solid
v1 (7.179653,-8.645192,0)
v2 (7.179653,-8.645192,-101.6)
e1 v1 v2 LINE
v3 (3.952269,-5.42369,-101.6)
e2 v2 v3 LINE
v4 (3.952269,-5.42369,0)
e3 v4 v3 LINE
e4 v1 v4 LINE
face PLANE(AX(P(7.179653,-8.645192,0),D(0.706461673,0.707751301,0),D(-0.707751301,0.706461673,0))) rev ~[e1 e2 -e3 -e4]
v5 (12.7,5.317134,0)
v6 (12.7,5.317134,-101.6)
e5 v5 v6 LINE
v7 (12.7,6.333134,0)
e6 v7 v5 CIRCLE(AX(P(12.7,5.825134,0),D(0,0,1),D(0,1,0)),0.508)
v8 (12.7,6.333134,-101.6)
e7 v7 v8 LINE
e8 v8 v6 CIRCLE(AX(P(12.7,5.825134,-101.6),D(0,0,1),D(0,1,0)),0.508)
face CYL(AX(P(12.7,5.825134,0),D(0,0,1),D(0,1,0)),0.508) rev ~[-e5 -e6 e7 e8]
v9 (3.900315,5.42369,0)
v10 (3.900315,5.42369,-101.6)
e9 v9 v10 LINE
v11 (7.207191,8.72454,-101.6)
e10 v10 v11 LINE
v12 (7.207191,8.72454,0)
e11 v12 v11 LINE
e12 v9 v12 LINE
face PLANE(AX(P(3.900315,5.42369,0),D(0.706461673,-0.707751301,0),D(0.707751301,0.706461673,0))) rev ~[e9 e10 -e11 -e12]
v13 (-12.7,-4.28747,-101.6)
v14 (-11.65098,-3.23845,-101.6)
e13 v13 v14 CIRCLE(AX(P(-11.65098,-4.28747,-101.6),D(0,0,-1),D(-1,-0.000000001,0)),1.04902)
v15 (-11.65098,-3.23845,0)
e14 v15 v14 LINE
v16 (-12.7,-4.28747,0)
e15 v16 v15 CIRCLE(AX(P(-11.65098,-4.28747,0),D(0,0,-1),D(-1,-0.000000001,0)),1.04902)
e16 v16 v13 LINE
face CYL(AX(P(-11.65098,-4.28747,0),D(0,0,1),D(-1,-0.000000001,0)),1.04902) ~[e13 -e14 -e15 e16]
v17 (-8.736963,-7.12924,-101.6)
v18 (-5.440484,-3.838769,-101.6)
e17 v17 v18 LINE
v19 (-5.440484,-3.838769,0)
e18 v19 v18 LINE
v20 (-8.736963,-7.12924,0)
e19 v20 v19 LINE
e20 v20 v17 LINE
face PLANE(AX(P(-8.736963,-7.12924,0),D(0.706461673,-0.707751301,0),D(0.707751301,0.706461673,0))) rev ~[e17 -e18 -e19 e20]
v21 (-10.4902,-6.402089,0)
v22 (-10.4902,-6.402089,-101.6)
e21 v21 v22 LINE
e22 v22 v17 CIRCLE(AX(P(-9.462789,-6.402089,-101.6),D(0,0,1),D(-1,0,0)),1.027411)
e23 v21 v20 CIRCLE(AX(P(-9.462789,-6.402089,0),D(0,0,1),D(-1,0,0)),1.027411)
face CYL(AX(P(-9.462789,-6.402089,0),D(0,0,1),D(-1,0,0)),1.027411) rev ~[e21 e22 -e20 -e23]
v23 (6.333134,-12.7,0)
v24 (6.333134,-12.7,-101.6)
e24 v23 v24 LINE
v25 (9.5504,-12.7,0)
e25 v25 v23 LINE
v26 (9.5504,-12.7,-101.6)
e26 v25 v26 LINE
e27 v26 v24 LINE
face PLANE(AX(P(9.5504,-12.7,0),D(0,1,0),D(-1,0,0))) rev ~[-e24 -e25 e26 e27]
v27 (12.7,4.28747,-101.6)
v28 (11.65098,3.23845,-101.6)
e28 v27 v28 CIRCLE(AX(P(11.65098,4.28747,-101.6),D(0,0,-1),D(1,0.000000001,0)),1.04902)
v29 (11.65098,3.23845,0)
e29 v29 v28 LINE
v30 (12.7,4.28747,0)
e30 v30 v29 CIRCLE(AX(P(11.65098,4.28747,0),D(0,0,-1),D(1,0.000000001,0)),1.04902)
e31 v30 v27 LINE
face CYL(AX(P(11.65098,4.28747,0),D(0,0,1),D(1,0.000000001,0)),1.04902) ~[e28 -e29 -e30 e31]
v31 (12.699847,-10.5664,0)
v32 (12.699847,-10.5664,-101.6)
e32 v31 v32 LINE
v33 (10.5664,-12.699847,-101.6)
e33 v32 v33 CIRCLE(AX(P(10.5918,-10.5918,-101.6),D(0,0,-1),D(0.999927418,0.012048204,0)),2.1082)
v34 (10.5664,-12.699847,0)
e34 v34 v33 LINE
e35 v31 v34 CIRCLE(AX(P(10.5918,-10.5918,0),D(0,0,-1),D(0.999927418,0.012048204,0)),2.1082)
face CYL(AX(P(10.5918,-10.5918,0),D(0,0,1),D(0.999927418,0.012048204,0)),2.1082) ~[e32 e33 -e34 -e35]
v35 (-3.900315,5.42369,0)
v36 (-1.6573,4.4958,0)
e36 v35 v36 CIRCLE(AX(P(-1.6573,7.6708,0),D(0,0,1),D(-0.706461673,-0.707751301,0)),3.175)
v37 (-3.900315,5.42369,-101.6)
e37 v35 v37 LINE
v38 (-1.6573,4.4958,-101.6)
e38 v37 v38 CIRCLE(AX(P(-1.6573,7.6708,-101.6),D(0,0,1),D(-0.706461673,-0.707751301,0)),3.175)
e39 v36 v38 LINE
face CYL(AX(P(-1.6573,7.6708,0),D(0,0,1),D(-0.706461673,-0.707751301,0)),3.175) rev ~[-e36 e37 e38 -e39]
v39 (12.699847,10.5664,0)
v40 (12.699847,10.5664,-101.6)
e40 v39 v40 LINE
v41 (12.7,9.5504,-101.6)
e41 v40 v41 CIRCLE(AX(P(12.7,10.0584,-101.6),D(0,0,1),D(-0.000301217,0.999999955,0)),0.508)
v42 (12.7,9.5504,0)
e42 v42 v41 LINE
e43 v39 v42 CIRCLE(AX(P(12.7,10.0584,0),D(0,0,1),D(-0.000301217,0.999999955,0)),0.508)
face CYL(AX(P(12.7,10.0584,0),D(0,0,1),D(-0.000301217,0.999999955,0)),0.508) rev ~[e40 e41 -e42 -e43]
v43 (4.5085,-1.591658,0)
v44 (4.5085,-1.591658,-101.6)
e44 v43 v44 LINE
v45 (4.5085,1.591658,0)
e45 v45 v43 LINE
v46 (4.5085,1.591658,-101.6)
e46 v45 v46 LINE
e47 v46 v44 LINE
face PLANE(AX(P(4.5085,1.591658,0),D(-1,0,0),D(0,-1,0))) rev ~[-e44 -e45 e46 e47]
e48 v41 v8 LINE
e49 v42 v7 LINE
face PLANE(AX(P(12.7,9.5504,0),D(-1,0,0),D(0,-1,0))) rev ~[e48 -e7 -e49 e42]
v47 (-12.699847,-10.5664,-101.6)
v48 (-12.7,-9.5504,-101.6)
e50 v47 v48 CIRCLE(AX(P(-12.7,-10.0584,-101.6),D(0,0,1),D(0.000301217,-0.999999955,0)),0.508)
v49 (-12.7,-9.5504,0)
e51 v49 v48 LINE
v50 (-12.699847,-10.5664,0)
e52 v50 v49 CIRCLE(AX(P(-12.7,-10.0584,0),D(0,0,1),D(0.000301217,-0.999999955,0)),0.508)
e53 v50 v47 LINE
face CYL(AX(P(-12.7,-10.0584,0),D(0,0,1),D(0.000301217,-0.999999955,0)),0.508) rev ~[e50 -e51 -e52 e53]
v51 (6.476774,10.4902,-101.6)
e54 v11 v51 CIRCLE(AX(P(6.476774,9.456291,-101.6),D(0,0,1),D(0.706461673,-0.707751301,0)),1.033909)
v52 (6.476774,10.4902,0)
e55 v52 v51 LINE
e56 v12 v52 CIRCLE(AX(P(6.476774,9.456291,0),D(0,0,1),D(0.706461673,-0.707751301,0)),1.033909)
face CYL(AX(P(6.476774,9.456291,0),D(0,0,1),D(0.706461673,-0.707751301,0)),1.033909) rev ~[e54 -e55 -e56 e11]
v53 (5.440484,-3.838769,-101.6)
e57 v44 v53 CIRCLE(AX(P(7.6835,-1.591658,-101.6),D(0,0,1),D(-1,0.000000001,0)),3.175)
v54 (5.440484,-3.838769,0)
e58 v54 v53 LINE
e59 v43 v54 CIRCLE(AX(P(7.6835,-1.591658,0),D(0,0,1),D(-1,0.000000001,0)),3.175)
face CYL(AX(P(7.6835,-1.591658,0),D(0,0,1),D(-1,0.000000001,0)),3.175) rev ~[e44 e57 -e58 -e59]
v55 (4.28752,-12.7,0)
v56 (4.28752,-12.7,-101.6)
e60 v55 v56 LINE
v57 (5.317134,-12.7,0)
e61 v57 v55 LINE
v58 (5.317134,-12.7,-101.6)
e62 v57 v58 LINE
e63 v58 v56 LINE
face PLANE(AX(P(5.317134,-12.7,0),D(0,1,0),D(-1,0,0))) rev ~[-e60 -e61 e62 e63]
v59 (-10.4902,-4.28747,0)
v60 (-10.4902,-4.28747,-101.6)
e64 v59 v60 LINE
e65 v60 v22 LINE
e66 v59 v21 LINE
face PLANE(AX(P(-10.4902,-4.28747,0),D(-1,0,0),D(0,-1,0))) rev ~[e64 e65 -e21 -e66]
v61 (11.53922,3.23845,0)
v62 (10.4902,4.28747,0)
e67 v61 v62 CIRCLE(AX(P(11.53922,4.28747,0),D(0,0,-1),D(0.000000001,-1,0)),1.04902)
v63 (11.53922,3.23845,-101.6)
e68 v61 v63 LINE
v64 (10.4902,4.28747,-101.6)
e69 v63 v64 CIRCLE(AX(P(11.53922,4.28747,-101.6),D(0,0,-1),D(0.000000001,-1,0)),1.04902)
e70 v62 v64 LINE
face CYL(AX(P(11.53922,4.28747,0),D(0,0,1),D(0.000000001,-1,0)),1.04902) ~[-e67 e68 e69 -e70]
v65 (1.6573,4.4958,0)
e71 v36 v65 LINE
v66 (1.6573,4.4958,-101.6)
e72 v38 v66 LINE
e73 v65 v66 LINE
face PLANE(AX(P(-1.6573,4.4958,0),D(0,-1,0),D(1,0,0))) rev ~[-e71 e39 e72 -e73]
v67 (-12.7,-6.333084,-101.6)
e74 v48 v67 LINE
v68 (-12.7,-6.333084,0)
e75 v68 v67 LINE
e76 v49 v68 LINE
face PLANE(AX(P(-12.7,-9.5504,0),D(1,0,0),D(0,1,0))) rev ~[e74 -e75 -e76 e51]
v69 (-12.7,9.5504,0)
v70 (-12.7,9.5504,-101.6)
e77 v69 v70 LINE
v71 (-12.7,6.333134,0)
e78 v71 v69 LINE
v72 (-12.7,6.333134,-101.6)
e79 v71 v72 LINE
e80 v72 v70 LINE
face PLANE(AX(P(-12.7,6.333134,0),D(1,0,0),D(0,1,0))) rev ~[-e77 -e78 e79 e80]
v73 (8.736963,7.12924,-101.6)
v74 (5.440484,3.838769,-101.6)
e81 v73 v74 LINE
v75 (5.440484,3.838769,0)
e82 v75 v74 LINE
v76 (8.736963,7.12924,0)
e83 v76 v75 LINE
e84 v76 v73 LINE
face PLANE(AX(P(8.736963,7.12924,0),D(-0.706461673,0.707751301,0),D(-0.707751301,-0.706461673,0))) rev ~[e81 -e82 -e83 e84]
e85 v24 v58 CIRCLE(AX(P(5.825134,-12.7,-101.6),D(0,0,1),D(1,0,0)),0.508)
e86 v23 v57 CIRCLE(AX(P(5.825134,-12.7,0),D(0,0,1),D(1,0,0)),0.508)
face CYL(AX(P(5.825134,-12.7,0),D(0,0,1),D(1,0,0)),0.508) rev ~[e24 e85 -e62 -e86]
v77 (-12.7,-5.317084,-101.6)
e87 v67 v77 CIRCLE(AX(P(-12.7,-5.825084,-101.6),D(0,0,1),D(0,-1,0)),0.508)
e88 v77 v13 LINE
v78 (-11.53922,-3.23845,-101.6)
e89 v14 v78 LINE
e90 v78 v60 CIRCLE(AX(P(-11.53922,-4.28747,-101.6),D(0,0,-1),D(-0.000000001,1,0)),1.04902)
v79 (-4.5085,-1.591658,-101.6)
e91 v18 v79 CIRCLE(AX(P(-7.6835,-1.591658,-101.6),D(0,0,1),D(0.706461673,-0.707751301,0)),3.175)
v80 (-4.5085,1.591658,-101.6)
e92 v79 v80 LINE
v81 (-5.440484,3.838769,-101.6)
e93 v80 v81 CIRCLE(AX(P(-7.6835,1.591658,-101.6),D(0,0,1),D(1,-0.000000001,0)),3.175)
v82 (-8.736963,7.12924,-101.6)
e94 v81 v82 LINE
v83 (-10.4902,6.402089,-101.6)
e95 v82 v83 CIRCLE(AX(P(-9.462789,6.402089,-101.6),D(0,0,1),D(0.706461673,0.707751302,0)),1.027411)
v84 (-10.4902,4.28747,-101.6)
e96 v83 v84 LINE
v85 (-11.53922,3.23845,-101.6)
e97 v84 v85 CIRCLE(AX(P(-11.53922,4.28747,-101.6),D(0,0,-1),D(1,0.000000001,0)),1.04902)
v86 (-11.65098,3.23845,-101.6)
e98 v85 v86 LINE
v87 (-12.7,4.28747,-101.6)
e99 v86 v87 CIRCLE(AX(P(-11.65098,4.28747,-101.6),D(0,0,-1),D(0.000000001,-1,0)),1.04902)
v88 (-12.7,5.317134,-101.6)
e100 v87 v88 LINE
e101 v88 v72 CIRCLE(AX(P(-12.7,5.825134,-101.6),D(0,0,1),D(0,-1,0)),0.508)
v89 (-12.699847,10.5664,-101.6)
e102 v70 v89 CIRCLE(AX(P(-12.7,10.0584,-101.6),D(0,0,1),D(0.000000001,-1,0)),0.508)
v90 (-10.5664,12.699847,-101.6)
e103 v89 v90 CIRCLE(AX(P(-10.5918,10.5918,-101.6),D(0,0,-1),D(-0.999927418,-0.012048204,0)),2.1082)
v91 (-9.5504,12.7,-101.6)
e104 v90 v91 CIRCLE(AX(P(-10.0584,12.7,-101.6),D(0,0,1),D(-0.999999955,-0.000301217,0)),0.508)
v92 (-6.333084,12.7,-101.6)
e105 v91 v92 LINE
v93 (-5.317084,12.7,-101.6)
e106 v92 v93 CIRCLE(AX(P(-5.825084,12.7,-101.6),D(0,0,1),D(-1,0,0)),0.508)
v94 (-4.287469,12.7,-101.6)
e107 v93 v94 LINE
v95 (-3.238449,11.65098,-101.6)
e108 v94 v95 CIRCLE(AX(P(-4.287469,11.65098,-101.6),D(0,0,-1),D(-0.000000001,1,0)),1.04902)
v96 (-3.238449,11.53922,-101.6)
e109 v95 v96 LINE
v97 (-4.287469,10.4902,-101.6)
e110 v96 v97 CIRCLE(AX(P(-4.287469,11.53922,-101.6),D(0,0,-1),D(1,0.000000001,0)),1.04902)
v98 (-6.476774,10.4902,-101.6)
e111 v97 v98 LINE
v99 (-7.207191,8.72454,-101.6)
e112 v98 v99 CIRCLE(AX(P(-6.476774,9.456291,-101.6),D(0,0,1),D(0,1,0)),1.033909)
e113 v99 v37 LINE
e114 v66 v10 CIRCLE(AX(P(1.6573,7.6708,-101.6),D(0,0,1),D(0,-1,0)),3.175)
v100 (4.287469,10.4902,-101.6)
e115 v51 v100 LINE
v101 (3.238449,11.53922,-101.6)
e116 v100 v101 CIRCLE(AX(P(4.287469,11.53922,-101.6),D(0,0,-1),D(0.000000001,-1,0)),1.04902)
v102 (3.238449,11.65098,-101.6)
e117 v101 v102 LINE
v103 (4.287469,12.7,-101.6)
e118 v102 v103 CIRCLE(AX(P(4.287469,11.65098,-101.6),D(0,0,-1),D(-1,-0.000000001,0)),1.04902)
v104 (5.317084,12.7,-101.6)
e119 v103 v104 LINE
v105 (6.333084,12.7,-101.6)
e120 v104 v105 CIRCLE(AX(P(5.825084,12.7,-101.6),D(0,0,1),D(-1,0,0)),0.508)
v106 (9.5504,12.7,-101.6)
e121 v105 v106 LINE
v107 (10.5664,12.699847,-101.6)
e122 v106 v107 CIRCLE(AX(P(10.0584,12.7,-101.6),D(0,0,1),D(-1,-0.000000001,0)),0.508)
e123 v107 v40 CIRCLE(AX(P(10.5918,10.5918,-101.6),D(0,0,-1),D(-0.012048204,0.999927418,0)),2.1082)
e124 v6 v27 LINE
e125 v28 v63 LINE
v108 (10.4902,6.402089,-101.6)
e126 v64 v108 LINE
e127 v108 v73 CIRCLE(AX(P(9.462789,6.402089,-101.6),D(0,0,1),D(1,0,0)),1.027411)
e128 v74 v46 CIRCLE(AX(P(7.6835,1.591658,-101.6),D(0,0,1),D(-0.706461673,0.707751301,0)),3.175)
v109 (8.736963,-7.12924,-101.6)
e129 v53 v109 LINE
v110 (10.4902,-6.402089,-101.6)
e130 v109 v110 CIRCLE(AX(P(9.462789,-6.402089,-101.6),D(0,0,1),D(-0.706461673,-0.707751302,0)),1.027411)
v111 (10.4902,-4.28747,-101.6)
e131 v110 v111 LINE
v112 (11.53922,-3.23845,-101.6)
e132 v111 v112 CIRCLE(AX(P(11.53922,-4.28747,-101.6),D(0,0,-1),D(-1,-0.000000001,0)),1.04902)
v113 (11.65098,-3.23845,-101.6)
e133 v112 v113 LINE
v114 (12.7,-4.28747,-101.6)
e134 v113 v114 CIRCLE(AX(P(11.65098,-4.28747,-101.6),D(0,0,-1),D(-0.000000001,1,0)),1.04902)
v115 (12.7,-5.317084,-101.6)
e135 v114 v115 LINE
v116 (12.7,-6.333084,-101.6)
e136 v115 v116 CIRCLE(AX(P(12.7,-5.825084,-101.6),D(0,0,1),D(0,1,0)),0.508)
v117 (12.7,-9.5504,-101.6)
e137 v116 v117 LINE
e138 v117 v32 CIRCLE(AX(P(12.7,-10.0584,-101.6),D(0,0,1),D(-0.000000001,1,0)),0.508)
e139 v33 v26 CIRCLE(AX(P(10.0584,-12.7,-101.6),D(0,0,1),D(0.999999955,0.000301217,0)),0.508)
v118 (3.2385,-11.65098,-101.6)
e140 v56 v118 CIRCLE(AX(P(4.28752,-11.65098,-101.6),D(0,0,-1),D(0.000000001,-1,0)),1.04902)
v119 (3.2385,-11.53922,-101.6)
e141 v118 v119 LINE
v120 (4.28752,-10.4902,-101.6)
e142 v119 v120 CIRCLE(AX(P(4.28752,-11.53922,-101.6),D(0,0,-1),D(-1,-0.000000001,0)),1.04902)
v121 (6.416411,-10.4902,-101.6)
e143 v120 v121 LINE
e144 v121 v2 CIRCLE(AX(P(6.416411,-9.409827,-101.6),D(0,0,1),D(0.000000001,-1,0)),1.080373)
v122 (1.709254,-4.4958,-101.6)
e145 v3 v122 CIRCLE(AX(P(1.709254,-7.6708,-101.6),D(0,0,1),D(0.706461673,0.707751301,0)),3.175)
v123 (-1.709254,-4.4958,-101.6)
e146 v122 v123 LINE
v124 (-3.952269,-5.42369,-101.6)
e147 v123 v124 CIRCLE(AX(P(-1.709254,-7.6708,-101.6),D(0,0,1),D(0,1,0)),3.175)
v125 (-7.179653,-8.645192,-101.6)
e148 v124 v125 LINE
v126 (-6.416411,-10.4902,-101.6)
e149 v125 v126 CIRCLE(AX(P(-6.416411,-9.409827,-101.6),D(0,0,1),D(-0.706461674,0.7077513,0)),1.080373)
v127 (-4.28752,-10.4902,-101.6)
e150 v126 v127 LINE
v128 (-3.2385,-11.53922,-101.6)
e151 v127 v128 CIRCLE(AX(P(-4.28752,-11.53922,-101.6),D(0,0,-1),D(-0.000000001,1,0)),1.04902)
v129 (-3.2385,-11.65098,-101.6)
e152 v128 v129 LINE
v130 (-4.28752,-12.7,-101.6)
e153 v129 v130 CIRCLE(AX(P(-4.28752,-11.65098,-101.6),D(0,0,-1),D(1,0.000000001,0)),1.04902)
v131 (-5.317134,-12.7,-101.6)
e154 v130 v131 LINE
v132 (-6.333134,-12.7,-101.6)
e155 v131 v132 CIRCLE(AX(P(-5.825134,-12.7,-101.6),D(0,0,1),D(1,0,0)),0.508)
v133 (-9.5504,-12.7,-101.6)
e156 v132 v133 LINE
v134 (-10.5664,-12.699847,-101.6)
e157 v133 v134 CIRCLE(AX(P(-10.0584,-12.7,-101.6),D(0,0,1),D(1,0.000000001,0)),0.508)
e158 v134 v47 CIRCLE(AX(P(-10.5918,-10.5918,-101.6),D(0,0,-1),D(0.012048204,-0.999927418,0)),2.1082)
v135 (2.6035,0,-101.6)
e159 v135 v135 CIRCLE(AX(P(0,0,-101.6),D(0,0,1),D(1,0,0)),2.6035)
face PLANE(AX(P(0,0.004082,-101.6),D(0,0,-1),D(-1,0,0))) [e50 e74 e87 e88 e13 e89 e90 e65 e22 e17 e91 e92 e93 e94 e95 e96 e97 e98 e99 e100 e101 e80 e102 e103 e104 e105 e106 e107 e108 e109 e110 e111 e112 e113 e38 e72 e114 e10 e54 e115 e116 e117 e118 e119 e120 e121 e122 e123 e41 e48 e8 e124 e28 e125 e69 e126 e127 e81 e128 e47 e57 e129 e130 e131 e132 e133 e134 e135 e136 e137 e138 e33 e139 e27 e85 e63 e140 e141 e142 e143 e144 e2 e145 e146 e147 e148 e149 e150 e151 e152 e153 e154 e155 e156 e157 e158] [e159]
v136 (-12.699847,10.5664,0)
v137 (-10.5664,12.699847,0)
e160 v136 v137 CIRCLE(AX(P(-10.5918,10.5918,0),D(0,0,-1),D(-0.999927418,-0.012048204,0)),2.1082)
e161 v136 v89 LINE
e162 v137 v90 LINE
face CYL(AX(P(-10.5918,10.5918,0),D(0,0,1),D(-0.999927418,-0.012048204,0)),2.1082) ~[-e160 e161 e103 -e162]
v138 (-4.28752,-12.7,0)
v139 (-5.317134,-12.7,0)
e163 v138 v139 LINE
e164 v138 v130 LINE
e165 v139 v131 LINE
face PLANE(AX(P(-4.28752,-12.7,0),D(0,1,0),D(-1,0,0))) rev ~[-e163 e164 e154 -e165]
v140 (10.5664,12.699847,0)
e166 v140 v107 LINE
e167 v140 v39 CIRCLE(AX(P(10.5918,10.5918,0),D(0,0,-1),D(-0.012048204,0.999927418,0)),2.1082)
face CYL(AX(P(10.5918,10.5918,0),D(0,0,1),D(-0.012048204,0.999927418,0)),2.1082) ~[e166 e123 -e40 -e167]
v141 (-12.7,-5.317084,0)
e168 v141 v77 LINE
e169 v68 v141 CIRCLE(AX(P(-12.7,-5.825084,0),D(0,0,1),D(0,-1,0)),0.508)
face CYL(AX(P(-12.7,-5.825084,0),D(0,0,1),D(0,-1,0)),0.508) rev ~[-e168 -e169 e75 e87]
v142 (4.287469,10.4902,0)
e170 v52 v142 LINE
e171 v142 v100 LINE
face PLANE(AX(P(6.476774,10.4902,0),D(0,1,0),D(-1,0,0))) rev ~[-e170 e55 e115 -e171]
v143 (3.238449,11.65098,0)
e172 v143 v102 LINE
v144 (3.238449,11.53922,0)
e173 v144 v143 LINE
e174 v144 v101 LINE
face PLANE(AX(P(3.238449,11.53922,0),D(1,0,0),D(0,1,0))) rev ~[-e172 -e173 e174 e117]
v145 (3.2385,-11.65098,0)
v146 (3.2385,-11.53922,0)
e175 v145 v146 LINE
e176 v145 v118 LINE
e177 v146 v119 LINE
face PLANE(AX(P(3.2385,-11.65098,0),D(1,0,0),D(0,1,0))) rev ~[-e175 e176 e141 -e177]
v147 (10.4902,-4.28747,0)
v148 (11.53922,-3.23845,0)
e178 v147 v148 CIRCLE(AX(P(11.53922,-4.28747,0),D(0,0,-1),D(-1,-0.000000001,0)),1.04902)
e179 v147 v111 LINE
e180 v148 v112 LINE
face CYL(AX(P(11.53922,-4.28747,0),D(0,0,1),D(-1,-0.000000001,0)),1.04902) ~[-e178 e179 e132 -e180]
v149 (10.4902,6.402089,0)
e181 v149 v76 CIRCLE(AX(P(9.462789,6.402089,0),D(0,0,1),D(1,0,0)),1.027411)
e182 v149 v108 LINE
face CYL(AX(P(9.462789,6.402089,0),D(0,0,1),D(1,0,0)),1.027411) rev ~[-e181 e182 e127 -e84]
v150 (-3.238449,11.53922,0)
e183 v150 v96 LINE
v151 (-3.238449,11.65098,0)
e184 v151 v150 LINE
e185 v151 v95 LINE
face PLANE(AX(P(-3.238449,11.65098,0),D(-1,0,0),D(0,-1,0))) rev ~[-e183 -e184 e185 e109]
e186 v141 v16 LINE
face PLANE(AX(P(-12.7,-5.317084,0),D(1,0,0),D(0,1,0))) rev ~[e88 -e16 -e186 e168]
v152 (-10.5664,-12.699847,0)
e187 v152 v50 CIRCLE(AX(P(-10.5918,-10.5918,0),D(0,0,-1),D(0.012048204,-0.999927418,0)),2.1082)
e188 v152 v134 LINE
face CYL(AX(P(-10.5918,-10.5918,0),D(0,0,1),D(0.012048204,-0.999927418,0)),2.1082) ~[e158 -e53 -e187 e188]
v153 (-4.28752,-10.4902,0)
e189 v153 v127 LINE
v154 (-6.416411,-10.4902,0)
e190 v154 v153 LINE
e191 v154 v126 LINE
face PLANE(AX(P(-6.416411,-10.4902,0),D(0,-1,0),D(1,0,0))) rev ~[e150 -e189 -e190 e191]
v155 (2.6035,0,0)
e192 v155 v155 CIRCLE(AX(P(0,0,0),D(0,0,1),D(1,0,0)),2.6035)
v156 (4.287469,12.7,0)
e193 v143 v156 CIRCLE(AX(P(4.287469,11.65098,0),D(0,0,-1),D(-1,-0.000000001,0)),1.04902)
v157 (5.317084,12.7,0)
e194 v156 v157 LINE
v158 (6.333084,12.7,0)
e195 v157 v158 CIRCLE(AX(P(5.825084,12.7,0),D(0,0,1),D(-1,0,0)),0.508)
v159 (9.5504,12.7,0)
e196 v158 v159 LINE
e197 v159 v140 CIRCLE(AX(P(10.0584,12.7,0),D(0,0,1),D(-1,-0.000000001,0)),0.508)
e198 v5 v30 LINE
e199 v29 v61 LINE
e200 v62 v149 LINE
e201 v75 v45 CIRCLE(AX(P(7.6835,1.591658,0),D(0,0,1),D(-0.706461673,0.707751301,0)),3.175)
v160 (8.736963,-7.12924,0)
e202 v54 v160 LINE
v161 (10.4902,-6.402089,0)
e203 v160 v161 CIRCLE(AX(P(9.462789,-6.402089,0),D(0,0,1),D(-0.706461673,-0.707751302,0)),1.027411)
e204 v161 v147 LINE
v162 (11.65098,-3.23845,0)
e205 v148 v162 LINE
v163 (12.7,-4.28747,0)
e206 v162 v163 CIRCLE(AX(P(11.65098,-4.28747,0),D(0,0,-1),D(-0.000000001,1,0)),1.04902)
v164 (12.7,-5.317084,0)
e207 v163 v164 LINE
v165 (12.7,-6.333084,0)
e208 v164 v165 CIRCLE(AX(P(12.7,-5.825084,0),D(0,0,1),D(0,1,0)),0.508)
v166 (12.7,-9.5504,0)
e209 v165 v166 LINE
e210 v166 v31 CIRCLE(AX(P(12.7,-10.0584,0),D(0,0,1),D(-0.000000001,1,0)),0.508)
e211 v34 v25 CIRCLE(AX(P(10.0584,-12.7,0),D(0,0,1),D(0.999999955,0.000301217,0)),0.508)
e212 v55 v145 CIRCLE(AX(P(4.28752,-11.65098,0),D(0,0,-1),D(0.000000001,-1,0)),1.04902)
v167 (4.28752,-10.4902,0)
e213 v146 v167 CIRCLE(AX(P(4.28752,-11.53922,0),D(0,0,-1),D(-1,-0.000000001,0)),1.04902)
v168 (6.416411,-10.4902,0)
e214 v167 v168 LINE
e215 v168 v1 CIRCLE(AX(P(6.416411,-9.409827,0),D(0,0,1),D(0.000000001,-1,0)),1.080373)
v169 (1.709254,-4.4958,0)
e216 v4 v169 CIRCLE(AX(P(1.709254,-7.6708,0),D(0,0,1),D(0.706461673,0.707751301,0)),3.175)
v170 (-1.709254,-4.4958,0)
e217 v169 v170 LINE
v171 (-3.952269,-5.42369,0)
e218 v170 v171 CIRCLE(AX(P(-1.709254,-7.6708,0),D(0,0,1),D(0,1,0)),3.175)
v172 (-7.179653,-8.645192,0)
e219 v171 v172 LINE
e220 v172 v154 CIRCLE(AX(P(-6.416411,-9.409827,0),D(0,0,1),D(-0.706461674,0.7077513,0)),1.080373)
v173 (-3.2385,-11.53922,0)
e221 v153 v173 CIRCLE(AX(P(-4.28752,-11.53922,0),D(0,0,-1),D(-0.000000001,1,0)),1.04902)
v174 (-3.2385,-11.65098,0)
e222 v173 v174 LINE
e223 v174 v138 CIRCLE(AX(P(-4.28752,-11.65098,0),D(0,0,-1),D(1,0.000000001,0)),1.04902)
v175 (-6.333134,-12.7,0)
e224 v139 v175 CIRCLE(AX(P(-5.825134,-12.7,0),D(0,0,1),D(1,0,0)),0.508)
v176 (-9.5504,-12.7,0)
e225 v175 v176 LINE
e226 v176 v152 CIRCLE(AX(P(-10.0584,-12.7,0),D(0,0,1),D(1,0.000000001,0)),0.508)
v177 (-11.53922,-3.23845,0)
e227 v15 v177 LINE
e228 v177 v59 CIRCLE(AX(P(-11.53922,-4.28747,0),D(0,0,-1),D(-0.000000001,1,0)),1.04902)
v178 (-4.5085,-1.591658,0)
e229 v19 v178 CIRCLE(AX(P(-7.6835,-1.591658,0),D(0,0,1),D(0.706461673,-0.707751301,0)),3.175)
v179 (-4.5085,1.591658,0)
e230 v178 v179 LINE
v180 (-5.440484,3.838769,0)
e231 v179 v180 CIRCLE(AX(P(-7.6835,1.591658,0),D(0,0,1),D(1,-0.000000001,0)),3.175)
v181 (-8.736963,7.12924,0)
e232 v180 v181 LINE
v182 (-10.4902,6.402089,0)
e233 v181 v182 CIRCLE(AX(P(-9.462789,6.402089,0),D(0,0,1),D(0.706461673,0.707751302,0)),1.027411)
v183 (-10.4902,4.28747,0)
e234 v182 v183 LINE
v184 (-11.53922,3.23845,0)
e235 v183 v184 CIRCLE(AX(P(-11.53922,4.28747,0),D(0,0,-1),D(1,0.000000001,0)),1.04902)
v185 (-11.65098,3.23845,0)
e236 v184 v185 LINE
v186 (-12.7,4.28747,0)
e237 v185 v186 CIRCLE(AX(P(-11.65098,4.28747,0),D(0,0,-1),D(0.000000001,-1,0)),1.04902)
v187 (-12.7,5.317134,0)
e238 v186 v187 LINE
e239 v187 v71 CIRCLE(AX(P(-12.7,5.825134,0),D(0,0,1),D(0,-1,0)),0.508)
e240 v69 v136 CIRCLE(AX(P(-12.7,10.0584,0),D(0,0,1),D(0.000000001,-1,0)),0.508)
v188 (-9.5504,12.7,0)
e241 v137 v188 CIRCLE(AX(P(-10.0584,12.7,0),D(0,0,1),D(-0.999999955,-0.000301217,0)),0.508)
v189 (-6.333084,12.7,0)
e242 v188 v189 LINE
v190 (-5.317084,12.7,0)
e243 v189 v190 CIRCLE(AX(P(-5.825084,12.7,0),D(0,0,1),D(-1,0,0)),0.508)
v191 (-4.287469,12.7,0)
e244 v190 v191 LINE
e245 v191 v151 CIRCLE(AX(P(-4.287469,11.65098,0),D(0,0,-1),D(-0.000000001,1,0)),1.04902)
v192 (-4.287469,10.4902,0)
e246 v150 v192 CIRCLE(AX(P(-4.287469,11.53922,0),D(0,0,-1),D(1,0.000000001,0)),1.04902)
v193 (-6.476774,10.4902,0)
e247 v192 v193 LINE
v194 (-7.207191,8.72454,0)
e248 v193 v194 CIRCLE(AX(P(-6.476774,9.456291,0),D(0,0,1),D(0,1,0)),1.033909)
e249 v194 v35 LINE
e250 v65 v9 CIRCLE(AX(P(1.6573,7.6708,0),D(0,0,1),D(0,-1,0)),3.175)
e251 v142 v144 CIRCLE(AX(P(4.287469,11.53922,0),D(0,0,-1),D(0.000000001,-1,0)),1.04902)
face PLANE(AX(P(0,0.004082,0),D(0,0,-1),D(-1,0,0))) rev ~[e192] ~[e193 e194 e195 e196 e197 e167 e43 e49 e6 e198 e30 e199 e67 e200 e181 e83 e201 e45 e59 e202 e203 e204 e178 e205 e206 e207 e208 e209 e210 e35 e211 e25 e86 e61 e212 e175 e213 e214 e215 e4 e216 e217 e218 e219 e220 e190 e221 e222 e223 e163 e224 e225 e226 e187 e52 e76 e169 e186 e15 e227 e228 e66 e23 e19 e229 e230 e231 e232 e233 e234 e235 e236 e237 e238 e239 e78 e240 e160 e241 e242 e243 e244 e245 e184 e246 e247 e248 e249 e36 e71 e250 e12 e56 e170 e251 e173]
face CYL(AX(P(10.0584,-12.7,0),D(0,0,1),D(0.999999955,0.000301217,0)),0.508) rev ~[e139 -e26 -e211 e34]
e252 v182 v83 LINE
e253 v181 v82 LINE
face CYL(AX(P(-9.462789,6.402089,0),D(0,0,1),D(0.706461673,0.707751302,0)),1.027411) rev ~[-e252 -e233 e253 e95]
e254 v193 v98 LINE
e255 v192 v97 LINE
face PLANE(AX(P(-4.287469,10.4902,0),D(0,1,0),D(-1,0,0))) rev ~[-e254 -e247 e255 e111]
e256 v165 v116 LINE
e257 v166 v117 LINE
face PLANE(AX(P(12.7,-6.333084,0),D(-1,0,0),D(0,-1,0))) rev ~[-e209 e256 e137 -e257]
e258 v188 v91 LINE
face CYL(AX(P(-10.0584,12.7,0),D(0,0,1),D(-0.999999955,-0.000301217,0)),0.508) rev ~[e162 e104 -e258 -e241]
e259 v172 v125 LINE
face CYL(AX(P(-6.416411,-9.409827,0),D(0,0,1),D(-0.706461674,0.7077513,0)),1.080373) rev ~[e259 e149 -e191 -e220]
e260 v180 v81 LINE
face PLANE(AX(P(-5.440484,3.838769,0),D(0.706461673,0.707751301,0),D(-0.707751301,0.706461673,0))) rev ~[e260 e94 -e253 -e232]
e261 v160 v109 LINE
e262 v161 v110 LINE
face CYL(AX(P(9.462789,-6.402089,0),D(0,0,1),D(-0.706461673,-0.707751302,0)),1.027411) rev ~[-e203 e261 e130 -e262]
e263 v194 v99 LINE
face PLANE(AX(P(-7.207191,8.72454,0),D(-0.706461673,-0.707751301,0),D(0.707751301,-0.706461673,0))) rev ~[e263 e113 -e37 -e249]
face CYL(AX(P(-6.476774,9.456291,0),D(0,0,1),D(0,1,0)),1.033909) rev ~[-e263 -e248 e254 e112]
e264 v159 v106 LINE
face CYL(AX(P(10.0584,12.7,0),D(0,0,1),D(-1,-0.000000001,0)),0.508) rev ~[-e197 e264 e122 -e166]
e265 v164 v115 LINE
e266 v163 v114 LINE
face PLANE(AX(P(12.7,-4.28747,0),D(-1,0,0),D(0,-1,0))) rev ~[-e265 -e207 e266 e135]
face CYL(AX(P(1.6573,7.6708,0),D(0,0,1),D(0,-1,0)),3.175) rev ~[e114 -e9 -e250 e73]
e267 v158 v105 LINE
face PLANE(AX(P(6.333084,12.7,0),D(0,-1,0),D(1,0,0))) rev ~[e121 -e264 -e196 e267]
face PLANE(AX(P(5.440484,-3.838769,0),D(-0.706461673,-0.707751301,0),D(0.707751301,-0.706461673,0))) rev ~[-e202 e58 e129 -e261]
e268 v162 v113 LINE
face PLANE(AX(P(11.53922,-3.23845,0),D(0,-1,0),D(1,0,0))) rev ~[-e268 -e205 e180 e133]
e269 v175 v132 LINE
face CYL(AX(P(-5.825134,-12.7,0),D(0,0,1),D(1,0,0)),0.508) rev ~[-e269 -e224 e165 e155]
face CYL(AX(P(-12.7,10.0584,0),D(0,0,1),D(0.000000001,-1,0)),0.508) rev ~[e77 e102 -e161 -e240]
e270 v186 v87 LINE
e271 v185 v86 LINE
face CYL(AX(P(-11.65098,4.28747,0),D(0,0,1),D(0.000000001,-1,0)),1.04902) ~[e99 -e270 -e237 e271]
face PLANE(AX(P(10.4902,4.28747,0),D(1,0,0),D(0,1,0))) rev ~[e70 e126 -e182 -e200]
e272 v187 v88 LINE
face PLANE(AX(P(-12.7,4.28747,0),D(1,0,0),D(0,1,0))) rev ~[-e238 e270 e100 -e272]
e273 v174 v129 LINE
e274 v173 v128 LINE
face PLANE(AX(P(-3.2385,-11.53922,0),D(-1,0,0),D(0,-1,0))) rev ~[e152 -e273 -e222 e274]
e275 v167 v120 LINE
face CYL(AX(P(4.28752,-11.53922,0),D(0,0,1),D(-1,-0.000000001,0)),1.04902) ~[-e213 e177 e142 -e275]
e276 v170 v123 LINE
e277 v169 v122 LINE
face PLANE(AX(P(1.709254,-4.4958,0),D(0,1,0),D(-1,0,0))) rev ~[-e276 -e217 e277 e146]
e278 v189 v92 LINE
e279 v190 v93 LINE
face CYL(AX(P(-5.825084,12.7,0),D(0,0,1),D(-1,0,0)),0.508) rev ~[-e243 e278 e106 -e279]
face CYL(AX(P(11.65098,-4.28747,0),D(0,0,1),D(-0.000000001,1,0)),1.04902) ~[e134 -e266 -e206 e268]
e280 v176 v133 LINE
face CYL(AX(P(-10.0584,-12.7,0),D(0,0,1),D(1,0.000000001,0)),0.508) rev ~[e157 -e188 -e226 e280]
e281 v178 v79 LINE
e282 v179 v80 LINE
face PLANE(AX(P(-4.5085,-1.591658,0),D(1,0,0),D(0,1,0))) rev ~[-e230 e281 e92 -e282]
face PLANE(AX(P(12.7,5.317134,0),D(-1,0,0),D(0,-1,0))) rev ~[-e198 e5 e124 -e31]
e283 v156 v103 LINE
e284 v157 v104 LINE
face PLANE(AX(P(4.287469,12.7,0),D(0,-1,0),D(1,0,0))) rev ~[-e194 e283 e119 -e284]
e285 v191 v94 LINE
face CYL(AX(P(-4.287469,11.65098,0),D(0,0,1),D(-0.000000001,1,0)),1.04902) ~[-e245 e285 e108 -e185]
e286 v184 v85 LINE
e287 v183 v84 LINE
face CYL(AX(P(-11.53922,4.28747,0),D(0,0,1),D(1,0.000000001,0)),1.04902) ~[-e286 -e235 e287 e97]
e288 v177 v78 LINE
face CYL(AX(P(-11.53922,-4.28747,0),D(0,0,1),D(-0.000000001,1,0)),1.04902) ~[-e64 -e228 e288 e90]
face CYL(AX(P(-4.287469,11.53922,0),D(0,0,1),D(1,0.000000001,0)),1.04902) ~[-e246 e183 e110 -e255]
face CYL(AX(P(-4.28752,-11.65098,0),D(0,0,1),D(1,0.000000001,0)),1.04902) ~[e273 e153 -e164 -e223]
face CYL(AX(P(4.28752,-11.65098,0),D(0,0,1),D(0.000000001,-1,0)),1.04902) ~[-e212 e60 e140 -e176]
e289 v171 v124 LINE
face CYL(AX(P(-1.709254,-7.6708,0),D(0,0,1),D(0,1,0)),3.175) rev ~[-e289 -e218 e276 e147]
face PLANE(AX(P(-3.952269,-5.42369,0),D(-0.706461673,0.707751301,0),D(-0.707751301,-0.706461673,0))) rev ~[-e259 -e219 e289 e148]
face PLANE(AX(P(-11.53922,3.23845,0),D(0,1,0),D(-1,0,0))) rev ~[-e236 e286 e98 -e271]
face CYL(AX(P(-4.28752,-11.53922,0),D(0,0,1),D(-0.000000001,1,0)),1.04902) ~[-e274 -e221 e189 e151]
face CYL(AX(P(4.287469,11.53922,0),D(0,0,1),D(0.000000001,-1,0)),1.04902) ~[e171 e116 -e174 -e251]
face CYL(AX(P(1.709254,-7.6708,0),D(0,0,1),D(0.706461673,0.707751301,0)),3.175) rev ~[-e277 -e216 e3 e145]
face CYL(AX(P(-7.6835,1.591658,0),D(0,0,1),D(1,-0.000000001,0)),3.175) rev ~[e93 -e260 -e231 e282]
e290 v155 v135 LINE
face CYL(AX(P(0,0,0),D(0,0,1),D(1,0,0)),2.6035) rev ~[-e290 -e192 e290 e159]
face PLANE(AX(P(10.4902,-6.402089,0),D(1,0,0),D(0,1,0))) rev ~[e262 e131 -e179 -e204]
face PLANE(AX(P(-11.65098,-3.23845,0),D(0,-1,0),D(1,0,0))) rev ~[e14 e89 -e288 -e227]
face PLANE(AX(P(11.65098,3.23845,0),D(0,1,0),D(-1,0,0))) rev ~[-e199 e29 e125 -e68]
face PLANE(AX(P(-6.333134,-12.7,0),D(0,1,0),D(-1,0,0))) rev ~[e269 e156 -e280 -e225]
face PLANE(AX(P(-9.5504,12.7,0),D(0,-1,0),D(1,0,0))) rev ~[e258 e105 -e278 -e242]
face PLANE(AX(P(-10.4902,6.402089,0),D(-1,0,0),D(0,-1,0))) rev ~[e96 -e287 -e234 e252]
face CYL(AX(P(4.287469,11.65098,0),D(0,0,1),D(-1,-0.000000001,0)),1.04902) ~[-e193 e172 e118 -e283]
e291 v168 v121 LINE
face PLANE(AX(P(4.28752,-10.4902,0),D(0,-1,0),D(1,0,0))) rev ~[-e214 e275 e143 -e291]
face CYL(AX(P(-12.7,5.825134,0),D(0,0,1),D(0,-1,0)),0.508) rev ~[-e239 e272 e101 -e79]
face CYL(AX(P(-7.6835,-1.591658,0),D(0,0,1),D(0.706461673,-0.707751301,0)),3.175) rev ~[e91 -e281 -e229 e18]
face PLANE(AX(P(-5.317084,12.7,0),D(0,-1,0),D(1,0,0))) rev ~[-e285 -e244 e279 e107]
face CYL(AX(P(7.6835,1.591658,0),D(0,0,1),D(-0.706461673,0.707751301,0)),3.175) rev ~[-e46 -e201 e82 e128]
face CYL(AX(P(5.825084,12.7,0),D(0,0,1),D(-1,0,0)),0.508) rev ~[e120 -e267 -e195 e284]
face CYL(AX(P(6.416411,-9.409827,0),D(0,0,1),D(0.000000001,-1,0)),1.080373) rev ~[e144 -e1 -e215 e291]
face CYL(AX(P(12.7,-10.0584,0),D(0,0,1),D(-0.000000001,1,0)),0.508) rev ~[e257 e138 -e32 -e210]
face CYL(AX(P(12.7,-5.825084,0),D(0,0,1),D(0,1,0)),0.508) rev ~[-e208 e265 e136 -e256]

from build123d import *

# Parameters (mm, degrees)
SKETCH1_R      = 2.6035
EXTRUDE1_DEPTH = 101.6


with BuildPart() as part:
    # Sketch1 → Extrude1 (new body)
    with BuildSketch(Plane.XY):
        with BuildLine():
            Line((-7.207191475, 8.724540082), (-3.900315394, 5.423689619))
            ThreePointArc((-3.900315394, 5.423689619), (-2.8709819, 4.736928798), (-1.657299581, 4.4958))
            Line((-1.657299581, 4.4958), (1.657299581, 4.4958))
            ThreePointArc((1.657299581, 4.4958), (2.8709819, 4.736928798), (3.900315394, 5.423689619))
            Line((3.900315394, 5.423689619), (7.207191475, 8.724540082))
            ThreePointArc((7.207191475, 8.724540082), (7.43216212, 9.851515102), (6.476774195, 10.4902))
            Line((6.476774195, 10.4902), (4.2874692, 10.4902))
            ThreePointArc((4.2874692, 10.4902), (3.545700044, 10.797450844), (3.2384492, 11.53922))
            Line((3.2384492, 11.53922), (3.2384492, 11.65098))
            ThreePointArc((3.2384492, 11.65098), (3.545700044, 12.392749156), (4.2874692, 12.7))
            Line((4.2874692, 12.7), (5.3170836, 12.7))
            ThreePointArc((5.3170836, 12.7), (5.8250836, 12.192), (6.3330836, 12.7))
            Line((6.3330836, 12.7), (9.5504, 12.7))
            ThreePointArc((9.5504, 12.7), (10.058323491, 12.192000006), (10.566399977, 12.699846982))
            ThreePointArc((10.566399977, 12.699846982), (12.082522516, 12.082522516), (12.699846982, 10.566399977))
            ThreePointArc((12.699846982, 10.566399977), (12.192000006, 10.058323491), (12.7, 9.5504))
            Line((12.7, 9.5504), (12.7, 6.3331344))
            ThreePointArc((12.7, 6.3331344), (12.192, 5.8251344), (12.7, 5.3171344))
            Line((12.7, 5.3171344), (12.7, 4.287470133))
            ThreePointArc((12.7, 4.287470133), (12.392749156, 3.545700977), (11.65098, 3.238450133))
            Line((11.65098, 3.238450133), (11.53922, 3.238450133))
            ThreePointArc((11.53922, 3.238450133), (10.797450844, 3.545700977), (10.4902, 4.287470133))
            Line((10.4902, 4.287470133), (10.4902, 6.402089023))
            ThreePointArc((10.4902, 6.402089023), (9.856394933, 7.351113629), (8.736962546, 7.129240479))
            Line((8.736962546, 7.129240479), (5.440484187, 3.838768792))
            ThreePointArc((5.440484187, 3.838768792), (4.75073678, 2.808015636), (4.5085, 1.591658411))
            Line((4.5085, 1.591658411), (4.5085, -1.591658411))
            ThreePointArc((4.5085, -1.591658411), (4.75073678, -2.808015636), (5.440484187, -3.838768792))
            Line((5.440484187, -3.838768792), (8.736962546, -7.129240479))
            ThreePointArc((8.736962546, -7.129240479), (9.856394933, -7.351113629), (10.4902, -6.402089023))
            Line((10.4902, -6.402089023), (10.4902, -4.287470133))
            ThreePointArc((10.4902, -4.287470133), (10.797450844, -3.545700977), (11.53922, -3.238450133))
            Line((11.53922, -3.238450133), (11.65098, -3.238450133))
            ThreePointArc((11.65098, -3.238450133), (12.392749156, -3.545700977), (12.7, -4.287470133))
            Line((12.7, -4.287470133), (12.7, -5.3170836))
            ThreePointArc((12.7, -5.3170836), (12.192, -5.8250836), (12.7, -6.3330836))
            Line((12.7, -6.3330836), (12.7, -9.5504))
            ThreePointArc((12.7, -9.5504), (12.192000006, -10.058323491), (12.699846982, -10.566399977))
            ThreePointArc((12.699846982, -10.566399977), (12.082522516, -12.082522516), (10.566399977, -12.699846982))
            ThreePointArc((10.566399977, -12.699846982), (10.058323491, -12.192000006), (9.5504, -12.7))
            Line((9.5504, -12.7), (6.3331344, -12.7))
            ThreePointArc((6.3331344, -12.7), (5.8251344, -12.192), (5.3171344, -12.7))
            Line((5.3171344, -12.7), (4.28752, -12.7))
            ThreePointArc((4.28752, -12.7), (3.545750844, -12.392749156), (3.2385, -11.65098))
            Line((3.2385, -11.65098), (3.2385, -11.53922))
            ThreePointArc((3.2385, -11.53922), (3.545750844, -10.797450844), (4.28752, -10.4902))
            Line((4.28752, -10.4902), (6.41641086, -10.4902))
            ThreePointArc((6.41641086, -10.4902), (7.414733441, -9.822812921), (7.179652728, -8.645192207))
            Line((7.179652728, -8.645192207), (3.95226937, -5.423689619))
            ThreePointArc((3.95226937, -5.423689619), (2.922935876, -4.736928798), (1.709253557, -4.4958))
            Line((1.709253557, -4.4958), (-1.709253557, -4.4958))
            ThreePointArc((-1.709253557, -4.4958), (-2.922935876, -4.736928798), (-3.95226937, -5.423689619))
            Line((-3.95226937, -5.423689619), (-7.179652728, -8.645192207))
            ThreePointArc((-7.179652728, -8.645192207), (-7.414733441, -9.822812921), (-6.41641086, -10.4902))
            Line((-6.41641086, -10.4902), (-4.28752, -10.4902))
            ThreePointArc((-4.28752, -10.4902), (-3.545750844, -10.797450844), (-3.2385, -11.53922))
            Line((-3.2385, -11.53922), (-3.2385, -11.65098))
            ThreePointArc((-3.2385, -11.65098), (-3.545750844, -12.392749156), (-4.28752, -12.7))
            Line((-4.28752, -12.7), (-5.3171344, -12.7))
            ThreePointArc((-5.3171344, -12.7), (-5.8251344, -12.192), (-6.3331344, -12.7))
            Line((-6.3331344, -12.7), (-9.5504, -12.7))
            ThreePointArc((-9.5504, -12.7), (-10.058323491, -12.192000006), (-10.566399977, -12.699846982))
            ThreePointArc((-10.566399977, -12.699846982), (-12.082522516, -12.082522516), (-12.699846982, -10.566399977))
            ThreePointArc((-12.699846982, -10.566399977), (-12.192000006, -10.058323491), (-12.7, -9.5504))
            Line((-12.7, -9.5504), (-12.7, -6.3330836))
            ThreePointArc((-12.7, -6.3330836), (-12.192, -5.8250836), (-12.7, -5.3170836))
            Line((-12.7, -5.3170836), (-12.7, -4.287470133))
            ThreePointArc((-12.7, -4.287470133), (-12.392749156, -3.545700977), (-11.65098, -3.238450133))
            Line((-11.65098, -3.238450133), (-11.53922, -3.238450133))
            ThreePointArc((-11.53922, -3.238450133), (-10.797450844, -3.545700977), (-10.4902, -4.287470133))
            Line((-10.4902, -4.287470133), (-10.4902, -6.402089023))
            ThreePointArc((-10.4902, -6.402089023), (-9.856394933, -7.351113629), (-8.736962546, -7.129240479))
            Line((-8.736962546, -7.129240479), (-5.440484187, -3.838768792))
            ThreePointArc((-5.440484187, -3.838768792), (-4.75073678, -2.808015636), (-4.5085, -1.591658411))
            Line((-4.5085, -1.591658411), (-4.5085, 1.591658411))
            ThreePointArc((-4.5085, 1.591658411), (-4.75073678, 2.808015636), (-5.440484187, 3.838768792))
            Line((-5.440484187, 3.838768792), (-8.736962546, 7.129240479))
            ThreePointArc((-8.736962546, 7.129240479), (-9.856394933, 7.351113629), (-10.4902, 6.402089023))
            Line((-10.4902, 6.402089023), (-10.4902, 4.287470133))
            ThreePointArc((-10.4902, 4.287470133), (-10.797450844, 3.545700977), (-11.53922, 3.238450133))
            Line((-11.53922, 3.238450133), (-11.65098, 3.238450133))
            ThreePointArc((-11.65098, 3.238450133), (-12.392749156, 3.545700977), (-12.7, 4.287470133))
            Line((-12.7, 4.287470133), (-12.7, 5.3171344))
            ThreePointArc((-12.7, 5.3171344), (-12.192, 5.8251344), (-12.7, 6.3331344))
            Line((-12.7, 6.3331344), (-12.7, 9.5504))
            ThreePointArc((-12.7, 9.5504), (-12.192000006, 10.058323491), (-12.699846982, 10.566399977))
            ThreePointArc((-12.699846982, 10.566399977), (-12.082522516, 12.082522516), (-10.566399977, 12.699846982))
            ThreePointArc((-10.566399977, 12.699846982), (-10.058323491, 12.192000006), (-9.5504, 12.7))
            Line((-9.5504, 12.7), (-6.3330836, 12.7))
            ThreePointArc((-6.3330836, 12.7), (-5.8250836, 12.192), (-5.3170836, 12.7))
            Line((-5.3170836, 12.7), (-4.2874692, 12.7))
            ThreePointArc((-4.2874692, 12.7), (-3.545700044, 12.392749156), (-3.2384492, 11.65098))
            Line((-3.2384492, 11.65098), (-3.2384492, 11.53922))
            ThreePointArc((-3.2384492, 11.53922), (-3.545700044, 10.797450844), (-4.2874692, 10.4902))
            Line((-4.2874692, 10.4902), (-6.476774195, 10.4902))
            ThreePointArc((-6.476774195, 10.4902), (-7.43216212, 9.851515102), (-7.207191475, 8.724540082))
        make_face()
        Circle(SKETCH1_R, mode=Mode.SUBTRACT)
    extrude(amount=-EXTRUDE1_DEPTH)


solid = part.part
